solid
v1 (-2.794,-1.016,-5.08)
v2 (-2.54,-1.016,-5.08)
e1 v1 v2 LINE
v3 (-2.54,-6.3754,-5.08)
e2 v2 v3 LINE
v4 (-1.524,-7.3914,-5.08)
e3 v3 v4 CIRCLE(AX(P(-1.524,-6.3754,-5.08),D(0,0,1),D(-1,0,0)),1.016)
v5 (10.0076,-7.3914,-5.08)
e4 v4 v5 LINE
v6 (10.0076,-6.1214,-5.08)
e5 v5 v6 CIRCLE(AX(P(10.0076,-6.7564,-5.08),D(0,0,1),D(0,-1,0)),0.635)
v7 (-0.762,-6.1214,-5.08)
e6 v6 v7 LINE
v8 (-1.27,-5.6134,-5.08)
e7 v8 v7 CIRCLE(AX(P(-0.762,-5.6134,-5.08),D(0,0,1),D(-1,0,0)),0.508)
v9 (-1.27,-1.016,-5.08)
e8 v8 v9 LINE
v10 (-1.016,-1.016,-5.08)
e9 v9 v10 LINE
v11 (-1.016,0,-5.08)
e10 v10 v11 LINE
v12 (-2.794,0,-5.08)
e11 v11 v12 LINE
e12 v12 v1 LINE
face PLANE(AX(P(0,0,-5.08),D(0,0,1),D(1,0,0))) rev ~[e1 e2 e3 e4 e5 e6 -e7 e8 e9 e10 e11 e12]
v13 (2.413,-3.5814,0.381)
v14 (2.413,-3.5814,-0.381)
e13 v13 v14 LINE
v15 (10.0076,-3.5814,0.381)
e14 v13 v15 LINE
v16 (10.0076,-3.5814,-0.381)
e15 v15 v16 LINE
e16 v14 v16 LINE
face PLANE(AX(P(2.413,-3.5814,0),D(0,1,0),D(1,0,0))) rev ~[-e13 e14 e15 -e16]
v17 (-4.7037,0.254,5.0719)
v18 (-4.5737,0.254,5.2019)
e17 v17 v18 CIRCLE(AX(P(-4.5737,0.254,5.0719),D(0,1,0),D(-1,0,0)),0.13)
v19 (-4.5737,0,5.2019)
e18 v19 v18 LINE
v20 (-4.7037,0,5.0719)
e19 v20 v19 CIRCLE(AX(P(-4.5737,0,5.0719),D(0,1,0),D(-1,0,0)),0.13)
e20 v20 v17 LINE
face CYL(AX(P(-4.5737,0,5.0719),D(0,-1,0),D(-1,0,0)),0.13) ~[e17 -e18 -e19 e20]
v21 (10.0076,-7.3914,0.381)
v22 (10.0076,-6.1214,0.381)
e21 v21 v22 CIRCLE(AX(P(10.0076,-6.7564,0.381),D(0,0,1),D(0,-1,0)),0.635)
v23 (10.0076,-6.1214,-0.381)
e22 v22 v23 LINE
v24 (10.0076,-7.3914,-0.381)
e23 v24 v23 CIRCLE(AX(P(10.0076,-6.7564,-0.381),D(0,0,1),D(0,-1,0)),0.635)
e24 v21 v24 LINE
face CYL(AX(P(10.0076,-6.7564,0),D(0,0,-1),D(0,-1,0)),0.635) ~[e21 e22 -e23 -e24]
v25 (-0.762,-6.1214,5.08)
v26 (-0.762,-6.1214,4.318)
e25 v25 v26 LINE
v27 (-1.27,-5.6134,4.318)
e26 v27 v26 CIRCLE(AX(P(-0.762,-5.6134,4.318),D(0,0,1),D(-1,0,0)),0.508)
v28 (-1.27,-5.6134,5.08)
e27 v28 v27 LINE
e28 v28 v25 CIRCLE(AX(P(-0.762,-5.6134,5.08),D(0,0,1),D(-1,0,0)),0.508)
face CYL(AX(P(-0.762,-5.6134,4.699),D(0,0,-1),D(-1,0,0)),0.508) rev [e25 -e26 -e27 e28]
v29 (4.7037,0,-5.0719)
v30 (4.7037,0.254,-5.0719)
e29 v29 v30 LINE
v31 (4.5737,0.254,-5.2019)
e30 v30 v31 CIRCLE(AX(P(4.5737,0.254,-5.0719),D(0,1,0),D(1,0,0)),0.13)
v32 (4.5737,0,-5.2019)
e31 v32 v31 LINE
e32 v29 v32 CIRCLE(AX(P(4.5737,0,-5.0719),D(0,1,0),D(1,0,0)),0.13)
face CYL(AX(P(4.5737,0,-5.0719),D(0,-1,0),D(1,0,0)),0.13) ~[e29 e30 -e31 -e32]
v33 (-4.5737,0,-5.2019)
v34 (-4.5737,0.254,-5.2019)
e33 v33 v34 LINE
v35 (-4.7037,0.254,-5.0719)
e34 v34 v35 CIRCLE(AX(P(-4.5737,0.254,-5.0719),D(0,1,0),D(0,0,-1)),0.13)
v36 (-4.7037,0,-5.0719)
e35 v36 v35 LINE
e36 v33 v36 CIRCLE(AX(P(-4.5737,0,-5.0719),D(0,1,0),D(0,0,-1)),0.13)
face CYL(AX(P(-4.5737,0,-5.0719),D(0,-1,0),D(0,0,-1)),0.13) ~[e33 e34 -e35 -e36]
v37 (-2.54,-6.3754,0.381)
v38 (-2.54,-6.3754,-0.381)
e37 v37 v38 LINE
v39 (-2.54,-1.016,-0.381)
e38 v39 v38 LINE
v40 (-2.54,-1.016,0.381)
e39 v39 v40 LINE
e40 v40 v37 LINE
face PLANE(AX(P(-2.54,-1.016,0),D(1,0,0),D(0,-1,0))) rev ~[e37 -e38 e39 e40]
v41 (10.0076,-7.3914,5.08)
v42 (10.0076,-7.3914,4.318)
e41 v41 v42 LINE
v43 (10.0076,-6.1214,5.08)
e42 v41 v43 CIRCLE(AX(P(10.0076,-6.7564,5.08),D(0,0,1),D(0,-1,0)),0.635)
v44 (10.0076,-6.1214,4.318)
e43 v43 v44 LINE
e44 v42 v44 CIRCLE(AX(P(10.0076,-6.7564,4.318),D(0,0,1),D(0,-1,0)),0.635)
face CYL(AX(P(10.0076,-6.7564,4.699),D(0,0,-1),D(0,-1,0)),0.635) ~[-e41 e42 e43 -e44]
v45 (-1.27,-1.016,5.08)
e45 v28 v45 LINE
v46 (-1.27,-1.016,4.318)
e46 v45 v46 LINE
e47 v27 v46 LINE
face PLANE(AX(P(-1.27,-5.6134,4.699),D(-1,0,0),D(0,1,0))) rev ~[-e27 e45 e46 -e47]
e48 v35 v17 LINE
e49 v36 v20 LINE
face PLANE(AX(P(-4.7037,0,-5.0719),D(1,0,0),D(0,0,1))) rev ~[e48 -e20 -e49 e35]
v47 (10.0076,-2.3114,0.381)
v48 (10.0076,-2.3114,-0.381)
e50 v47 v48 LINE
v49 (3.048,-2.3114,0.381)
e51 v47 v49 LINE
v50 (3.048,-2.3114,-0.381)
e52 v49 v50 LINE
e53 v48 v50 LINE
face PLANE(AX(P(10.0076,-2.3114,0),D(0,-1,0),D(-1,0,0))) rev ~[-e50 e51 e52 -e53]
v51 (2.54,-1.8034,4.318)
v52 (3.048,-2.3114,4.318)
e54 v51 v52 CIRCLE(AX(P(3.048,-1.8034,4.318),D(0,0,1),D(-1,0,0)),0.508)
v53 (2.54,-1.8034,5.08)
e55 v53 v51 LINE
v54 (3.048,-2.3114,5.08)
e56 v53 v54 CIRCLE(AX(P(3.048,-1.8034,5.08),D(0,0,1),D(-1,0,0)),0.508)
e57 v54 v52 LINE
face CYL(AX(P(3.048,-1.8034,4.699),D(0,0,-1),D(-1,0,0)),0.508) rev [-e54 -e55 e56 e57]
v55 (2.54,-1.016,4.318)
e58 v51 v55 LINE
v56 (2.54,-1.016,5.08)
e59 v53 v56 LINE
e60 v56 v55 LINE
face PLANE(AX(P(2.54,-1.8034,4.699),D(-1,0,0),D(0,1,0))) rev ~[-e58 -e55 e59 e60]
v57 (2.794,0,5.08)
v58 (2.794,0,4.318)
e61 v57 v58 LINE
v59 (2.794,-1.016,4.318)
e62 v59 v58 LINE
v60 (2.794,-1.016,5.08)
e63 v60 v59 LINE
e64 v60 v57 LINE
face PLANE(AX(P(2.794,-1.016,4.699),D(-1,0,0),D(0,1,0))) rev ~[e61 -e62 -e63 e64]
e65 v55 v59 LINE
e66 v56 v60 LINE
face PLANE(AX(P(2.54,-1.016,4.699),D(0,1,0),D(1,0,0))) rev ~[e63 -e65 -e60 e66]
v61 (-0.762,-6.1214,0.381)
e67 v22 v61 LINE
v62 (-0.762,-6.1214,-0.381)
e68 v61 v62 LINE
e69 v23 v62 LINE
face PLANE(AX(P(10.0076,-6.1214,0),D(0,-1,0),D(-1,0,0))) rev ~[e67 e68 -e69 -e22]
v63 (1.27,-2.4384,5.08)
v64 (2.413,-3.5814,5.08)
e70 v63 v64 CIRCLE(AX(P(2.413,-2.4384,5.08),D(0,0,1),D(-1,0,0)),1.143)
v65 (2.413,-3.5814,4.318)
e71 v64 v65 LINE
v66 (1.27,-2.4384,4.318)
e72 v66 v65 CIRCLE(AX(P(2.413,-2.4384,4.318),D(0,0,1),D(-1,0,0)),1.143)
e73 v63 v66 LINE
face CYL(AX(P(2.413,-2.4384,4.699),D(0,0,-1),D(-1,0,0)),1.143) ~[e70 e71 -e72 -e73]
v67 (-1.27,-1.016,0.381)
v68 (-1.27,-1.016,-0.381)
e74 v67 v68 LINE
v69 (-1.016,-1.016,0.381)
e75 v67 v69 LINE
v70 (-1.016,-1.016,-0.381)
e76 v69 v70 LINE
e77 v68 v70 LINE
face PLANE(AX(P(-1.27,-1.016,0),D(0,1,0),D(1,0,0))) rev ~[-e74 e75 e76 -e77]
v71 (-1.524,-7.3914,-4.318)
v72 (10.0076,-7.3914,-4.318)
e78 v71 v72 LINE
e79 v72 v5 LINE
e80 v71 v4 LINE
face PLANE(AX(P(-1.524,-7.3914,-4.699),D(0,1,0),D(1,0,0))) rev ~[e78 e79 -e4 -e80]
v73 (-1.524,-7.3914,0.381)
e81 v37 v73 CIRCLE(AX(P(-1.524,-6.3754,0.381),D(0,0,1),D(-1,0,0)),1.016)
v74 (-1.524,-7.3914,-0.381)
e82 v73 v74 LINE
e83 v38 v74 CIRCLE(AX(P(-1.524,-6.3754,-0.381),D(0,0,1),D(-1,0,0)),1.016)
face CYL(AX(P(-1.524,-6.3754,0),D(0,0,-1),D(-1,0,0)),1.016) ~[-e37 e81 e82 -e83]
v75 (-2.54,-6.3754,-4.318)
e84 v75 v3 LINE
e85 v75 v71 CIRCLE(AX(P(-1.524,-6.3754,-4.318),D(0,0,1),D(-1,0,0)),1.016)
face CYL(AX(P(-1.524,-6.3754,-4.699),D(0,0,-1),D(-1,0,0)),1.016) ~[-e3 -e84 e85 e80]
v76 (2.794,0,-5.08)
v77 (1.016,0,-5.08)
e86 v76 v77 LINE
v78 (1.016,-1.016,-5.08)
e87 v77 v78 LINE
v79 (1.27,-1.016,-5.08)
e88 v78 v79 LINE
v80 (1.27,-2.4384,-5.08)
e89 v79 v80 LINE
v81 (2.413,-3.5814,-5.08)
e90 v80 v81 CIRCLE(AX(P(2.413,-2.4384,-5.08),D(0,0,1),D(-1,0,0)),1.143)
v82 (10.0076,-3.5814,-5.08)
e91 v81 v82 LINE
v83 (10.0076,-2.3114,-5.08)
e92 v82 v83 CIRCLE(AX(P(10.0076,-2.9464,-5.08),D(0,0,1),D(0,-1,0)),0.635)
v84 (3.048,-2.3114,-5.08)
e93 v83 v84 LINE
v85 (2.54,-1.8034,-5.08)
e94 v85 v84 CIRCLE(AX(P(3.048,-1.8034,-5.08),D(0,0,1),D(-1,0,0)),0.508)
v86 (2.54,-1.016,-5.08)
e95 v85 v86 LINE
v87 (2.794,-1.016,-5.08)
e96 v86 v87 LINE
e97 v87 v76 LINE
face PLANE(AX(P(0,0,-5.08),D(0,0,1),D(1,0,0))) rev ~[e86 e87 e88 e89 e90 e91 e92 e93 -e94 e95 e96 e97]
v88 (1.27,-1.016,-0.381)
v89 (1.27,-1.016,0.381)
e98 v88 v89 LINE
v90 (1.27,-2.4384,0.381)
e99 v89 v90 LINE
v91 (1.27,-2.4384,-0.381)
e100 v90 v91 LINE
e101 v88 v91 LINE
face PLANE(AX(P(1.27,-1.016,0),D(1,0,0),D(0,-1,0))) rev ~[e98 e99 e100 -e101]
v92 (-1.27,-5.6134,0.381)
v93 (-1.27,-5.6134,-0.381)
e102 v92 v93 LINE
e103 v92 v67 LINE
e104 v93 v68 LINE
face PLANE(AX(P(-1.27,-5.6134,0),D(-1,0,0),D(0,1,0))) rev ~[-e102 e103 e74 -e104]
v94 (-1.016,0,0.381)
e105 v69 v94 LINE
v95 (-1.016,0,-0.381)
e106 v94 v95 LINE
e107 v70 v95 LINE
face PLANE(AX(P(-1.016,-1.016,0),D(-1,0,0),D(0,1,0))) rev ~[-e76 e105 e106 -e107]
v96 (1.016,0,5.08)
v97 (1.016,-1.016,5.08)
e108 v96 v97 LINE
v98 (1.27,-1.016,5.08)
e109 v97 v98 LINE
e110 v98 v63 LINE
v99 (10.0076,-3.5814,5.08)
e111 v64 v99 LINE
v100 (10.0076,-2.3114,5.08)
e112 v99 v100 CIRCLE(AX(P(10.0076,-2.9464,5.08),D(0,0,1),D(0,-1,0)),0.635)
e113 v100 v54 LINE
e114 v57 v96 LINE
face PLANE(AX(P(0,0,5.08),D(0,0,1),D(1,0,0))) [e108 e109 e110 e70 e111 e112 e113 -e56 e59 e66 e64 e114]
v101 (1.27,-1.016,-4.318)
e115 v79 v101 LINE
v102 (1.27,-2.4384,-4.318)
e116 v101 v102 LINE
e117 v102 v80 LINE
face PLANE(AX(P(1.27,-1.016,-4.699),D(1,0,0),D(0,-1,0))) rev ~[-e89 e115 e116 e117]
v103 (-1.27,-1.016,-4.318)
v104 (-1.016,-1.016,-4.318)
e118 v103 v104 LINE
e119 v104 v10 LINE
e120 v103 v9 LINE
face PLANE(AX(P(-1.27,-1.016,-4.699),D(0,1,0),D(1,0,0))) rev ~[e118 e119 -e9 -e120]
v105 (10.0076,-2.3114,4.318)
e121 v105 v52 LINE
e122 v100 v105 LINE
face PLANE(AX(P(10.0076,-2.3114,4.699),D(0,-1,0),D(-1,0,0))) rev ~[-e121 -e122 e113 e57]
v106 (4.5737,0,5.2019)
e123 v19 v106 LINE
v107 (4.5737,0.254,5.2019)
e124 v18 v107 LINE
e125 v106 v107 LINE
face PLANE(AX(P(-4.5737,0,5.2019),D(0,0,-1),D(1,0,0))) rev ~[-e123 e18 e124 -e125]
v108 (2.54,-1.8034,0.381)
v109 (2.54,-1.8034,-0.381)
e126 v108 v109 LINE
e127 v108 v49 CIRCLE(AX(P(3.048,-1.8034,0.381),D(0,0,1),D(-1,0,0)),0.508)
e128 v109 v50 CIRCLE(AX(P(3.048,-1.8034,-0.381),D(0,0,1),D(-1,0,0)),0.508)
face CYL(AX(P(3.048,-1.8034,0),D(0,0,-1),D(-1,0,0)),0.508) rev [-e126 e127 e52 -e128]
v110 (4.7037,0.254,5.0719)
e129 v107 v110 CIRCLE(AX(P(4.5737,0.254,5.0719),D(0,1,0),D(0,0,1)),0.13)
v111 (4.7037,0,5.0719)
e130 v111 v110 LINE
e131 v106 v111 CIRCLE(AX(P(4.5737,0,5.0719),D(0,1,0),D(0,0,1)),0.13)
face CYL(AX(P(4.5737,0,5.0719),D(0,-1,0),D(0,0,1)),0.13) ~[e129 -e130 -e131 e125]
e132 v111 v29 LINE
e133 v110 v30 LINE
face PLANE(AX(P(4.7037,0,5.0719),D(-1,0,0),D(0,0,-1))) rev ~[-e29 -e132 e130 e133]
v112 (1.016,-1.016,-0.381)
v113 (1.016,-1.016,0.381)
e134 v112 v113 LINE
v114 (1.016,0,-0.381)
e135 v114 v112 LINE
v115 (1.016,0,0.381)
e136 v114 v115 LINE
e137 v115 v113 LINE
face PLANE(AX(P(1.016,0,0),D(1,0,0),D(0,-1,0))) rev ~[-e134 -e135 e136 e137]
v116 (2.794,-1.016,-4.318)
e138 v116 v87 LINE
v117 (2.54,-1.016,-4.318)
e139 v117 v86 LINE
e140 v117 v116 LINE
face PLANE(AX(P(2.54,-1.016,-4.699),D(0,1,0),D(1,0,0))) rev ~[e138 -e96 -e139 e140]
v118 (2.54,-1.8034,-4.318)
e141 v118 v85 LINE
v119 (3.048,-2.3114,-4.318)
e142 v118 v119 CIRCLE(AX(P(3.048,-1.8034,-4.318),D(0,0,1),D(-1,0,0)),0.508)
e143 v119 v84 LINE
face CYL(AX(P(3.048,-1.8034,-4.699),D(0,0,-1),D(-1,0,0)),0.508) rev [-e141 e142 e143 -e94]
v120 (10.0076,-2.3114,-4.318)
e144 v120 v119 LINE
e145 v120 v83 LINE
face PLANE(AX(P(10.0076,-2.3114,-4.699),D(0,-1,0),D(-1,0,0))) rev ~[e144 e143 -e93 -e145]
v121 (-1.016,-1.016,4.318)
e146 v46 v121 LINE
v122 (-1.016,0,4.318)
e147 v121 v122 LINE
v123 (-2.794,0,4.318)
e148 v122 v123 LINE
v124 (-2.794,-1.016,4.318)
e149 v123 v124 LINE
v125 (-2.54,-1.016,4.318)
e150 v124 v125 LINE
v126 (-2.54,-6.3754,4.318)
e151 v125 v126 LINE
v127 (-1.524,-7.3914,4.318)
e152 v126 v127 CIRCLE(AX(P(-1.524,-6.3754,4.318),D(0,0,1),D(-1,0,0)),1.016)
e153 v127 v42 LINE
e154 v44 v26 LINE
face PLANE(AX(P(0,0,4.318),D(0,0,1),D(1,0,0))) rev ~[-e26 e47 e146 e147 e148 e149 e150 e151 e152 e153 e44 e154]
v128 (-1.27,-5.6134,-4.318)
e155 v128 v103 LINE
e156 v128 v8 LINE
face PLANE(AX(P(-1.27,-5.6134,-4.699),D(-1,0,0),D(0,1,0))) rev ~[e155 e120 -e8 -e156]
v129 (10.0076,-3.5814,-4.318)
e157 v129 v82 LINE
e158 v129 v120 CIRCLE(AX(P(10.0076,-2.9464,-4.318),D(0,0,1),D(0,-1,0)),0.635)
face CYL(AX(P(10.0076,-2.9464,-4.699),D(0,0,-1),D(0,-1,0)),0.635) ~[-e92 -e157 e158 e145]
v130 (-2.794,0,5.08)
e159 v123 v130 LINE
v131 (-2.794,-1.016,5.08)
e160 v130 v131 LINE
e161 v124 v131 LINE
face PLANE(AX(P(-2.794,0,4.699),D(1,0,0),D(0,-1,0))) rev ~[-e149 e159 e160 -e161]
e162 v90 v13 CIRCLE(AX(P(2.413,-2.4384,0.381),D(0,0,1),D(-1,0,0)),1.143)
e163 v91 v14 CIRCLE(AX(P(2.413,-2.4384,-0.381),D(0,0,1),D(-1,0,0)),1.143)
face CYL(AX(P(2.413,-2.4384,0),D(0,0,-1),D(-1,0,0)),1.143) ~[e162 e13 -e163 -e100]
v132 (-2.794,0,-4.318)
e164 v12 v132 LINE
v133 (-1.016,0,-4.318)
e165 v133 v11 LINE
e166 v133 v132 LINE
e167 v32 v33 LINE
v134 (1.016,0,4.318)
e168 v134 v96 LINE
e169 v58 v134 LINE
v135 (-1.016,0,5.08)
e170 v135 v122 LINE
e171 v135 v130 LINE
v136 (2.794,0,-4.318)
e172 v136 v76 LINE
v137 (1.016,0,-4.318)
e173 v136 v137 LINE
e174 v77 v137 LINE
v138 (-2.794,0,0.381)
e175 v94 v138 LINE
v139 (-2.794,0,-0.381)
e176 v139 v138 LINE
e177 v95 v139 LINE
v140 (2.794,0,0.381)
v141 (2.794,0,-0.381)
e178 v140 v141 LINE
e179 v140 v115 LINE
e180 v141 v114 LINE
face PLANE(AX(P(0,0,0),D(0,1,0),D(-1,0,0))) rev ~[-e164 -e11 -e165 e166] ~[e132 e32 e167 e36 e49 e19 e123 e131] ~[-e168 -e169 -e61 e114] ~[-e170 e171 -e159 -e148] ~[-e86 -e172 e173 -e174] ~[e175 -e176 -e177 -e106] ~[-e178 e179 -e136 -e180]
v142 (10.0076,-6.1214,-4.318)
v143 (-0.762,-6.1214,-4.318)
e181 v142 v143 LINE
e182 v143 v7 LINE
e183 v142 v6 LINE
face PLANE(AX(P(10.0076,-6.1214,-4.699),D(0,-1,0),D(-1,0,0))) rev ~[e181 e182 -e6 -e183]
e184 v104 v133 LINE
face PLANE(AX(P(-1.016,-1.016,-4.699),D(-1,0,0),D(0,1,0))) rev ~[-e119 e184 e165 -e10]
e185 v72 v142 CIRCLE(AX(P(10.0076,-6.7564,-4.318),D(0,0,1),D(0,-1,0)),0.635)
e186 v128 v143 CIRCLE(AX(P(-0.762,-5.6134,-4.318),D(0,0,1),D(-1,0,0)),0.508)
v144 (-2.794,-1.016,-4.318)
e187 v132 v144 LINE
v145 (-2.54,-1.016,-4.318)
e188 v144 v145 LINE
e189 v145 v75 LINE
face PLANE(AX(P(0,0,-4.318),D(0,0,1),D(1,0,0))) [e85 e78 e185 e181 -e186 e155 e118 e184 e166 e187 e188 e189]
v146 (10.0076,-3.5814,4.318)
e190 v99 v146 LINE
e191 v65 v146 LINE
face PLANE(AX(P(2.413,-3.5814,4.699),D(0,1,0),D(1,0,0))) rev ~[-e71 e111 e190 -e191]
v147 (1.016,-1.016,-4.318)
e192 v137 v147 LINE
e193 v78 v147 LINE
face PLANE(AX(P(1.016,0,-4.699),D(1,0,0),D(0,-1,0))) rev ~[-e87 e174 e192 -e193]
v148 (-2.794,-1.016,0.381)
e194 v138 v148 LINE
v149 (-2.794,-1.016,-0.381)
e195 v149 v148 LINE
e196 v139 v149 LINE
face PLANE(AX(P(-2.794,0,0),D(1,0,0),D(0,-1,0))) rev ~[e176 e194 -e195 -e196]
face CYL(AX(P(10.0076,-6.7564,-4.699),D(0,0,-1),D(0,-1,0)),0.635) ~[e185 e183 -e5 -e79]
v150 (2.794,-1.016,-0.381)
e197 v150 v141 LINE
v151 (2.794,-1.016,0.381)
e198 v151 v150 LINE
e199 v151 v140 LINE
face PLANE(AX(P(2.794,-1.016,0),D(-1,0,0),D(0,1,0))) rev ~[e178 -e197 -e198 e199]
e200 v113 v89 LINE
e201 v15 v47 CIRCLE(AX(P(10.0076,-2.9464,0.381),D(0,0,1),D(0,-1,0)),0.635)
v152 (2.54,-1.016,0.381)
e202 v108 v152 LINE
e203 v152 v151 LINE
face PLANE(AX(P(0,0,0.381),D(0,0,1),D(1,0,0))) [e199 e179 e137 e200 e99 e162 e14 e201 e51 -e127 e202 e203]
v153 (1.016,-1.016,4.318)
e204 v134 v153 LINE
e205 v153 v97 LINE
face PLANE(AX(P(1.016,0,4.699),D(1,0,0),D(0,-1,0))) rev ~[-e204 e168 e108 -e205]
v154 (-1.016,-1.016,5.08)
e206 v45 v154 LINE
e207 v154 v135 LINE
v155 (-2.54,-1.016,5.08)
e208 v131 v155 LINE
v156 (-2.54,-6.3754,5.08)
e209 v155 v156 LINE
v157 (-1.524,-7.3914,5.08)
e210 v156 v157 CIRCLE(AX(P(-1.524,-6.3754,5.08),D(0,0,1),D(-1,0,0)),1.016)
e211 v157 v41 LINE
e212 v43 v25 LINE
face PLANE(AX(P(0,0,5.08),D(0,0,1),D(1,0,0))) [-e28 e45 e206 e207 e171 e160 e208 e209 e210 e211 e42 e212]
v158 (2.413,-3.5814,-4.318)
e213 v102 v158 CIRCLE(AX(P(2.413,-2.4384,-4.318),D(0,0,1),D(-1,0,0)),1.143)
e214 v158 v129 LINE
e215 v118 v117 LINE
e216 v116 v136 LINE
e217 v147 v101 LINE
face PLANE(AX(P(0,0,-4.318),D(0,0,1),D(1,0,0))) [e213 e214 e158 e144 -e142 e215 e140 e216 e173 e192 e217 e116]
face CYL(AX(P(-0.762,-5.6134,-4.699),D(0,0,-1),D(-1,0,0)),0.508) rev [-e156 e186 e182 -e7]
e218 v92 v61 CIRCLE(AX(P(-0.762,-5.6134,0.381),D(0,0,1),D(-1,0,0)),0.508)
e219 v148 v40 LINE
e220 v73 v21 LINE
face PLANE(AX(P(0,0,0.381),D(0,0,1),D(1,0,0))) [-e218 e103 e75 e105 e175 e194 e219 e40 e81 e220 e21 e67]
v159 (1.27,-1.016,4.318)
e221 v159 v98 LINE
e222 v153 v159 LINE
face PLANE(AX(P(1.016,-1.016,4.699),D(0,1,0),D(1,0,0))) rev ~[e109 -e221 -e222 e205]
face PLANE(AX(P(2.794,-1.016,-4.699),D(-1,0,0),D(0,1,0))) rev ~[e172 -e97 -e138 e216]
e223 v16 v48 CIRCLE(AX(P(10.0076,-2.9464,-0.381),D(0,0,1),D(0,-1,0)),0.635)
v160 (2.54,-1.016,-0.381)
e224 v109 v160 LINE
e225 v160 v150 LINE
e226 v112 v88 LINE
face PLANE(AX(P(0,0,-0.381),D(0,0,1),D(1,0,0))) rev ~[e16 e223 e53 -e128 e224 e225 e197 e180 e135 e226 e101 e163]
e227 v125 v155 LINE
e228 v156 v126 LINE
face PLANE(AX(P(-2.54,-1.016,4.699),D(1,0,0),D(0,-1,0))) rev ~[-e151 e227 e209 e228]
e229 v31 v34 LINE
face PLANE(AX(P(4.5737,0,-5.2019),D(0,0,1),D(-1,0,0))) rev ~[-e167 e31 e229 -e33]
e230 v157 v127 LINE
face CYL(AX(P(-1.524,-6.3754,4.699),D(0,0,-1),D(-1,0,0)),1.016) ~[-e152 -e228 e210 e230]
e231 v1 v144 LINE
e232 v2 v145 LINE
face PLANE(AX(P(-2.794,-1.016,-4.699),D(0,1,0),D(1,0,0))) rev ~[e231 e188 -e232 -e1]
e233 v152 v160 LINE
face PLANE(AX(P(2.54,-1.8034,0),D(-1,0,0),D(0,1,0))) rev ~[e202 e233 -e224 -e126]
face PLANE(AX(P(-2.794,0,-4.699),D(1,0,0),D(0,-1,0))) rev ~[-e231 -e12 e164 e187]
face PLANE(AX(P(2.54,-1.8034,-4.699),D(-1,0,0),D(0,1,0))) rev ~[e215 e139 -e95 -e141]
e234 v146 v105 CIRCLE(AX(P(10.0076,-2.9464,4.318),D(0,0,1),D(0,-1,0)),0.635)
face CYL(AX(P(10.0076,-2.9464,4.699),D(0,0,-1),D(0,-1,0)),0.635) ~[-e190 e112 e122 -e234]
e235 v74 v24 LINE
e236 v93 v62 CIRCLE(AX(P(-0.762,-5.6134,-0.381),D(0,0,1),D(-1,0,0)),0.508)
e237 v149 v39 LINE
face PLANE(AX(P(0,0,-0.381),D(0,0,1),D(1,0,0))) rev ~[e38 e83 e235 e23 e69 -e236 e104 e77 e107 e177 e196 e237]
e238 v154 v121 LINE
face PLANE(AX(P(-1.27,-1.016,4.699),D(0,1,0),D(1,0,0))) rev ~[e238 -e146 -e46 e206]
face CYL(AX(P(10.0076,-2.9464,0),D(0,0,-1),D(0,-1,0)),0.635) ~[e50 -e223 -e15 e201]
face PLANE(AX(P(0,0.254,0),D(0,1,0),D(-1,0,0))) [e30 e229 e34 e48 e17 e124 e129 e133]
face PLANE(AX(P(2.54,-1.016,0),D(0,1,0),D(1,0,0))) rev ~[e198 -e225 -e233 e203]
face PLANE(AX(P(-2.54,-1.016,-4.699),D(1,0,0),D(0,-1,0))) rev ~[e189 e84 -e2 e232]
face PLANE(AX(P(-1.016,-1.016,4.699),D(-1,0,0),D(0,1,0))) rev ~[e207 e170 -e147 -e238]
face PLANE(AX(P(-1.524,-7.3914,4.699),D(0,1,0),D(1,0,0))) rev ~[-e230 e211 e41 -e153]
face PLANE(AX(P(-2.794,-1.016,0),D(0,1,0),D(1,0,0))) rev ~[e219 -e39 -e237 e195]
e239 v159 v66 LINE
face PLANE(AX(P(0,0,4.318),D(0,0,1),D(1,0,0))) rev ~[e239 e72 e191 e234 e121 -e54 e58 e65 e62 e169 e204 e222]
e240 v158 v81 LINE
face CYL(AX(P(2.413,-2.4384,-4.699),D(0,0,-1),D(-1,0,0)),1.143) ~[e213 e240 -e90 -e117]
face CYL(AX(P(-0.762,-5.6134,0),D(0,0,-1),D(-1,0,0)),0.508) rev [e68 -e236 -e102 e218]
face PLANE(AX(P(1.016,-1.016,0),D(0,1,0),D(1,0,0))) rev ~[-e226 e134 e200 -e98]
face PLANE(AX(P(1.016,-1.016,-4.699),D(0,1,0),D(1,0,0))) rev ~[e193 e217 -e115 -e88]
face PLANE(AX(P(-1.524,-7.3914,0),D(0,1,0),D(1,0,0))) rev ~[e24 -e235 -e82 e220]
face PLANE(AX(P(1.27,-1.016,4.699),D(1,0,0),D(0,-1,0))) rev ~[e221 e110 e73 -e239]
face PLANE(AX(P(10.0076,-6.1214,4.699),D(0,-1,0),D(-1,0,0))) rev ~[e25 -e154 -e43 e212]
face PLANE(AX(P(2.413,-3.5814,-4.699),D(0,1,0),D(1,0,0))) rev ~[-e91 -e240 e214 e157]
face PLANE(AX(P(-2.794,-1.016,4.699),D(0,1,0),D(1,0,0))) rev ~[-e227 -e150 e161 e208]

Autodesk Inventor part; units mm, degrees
sketch "Sketch_2" plane through (0, 0, 0) normal (0, 1, 0) x (-1, 0, 0)
  line L0 (4.7037, -5.0719) -> (4.7037, 5.0719)
  arc A0 (4.7037, 5.0719) -> (4.5737, 5.2019) centre (4.5737, 5.0719) ccw
  line L1 (4.5737, 5.2019) -> (-4.5737, 5.2019)
  arc A1 (-4.5737, 5.2019) -> (-4.7037, 5.0719) centre (-4.5737, 5.0719) ccw
  line L2 (-4.7037, 5.0719) -> (-4.7037, -5.0719)
  arc A2 (-4.7037, -5.0719) -> (-4.5737, -5.2019) centre (-4.5737, -5.0719) ccw
  line L3 (-4.5737, -5.2019) -> (4.5737, -5.2019)
  arc A3 (4.5737, -5.2019) -> (4.7037, -5.0719) centre (4.5737, -5.0719) ccw
extrude "Extrusion1" add sketch "Sketch_2" along normal blind 0.254
sketch "Sketch_1" plane through (0, 0, -4.699) normal (0, 0, 1) x (1, 0, 0)
  line L0 (1.016, 0) -> (1.016, -1.016)
  line L1 (1.016, -1.016) -> (1.27, -1.016)
  line L2 (1.27, -1.016) -> (1.27, -2.4384)
  arc A0 (1.27, -2.4384) -> (2.413, -3.5814) centre (2.413, -2.4384) ccw
  line L3 (2.413, -3.5814) -> (10.0076, -3.5814)
  arc A1 (10.0076, -3.5814) -> (10.0076, -2.3114) centre (10.0076, -2.9464) ccw
  line L4 (10.0076, -2.3114) -> (3.048, -2.3114)
  arc A2 (2.54, -1.8034) -> (3.048, -2.3114) centre (3.048, -1.8034) ccw
  line L5 (2.54, -1.8034) -> (2.54, -1.016)
  line L6 (2.54, -1.016) -> (2.794, -1.016)
  line L7 (2.794, -1.016) -> (2.794, 0)
  line L8 (2.794, 0) -> (1.016, 0)
extrude "Extrusion2" add sketch "Sketch_1" along normal mid plane 0.762
pattern_linear "Rectangular Pattern1" count 3 spacing 4.699 along (0, 0, 1) of "Extrusion2"
sketch "Sketch_18" plane through (0, 0, -4.699) normal (0, 0, 1) x (1, 0, 0)
  line L0 (-2.794, 0) -> (-2.794, -1.016)
  line L1 (-2.794, -1.016) -> (-2.54, -1.016)
  line L2 (-2.54, -1.016) -> (-2.54, -6.3754)
  arc A0 (-2.54, -6.3754) -> (-1.524, -7.3914) centre (-1.524, -6.3754) ccw
  line L3 (-1.524, -7.3914) -> (10.0076, -7.3914)
  arc A1 (10.0076, -7.3914) -> (10.0076, -6.1214) centre (10.0076, -6.7564) ccw
  line L4 (10.0076, -6.1214) -> (-0.762, -6.1214)
  arc A2 (-1.27, -5.6134) -> (-0.762, -6.1214) centre (-0.762, -5.6134) ccw
  line L5 (-1.27, -5.6134) -> (-1.27, -1.016)
  line L6 (-1.27, -1.016) -> (-1.016, -1.016)
  line L7 (-1.016, -1.016) -> (-1.016, 0)
  line L8 (-1.016, 0) -> (-2.794, 0)
extrude "Extrusion3" add sketch "Sketch_18" along normal mid plane 0.762
pattern_linear "Rectangular Pattern2" count 3 spacing 4.699 along (0, 0, 1) of "Extrusion3"
ref_plane "to_base_XY" through (0, -0.0254, 0) normal (0, 1, 0) x (1, 0, 0)
ref_plane "to_base_YZ" through (0, -0.0254, 0) normal (1, 0, 0) x (0, 0, -1)
ref_plane "to_base_ZX" through (0, -0.0254, 0) normal (0, 0, -1) x (0, 1, 0)
properties part number "M202830_terminal_angW"
